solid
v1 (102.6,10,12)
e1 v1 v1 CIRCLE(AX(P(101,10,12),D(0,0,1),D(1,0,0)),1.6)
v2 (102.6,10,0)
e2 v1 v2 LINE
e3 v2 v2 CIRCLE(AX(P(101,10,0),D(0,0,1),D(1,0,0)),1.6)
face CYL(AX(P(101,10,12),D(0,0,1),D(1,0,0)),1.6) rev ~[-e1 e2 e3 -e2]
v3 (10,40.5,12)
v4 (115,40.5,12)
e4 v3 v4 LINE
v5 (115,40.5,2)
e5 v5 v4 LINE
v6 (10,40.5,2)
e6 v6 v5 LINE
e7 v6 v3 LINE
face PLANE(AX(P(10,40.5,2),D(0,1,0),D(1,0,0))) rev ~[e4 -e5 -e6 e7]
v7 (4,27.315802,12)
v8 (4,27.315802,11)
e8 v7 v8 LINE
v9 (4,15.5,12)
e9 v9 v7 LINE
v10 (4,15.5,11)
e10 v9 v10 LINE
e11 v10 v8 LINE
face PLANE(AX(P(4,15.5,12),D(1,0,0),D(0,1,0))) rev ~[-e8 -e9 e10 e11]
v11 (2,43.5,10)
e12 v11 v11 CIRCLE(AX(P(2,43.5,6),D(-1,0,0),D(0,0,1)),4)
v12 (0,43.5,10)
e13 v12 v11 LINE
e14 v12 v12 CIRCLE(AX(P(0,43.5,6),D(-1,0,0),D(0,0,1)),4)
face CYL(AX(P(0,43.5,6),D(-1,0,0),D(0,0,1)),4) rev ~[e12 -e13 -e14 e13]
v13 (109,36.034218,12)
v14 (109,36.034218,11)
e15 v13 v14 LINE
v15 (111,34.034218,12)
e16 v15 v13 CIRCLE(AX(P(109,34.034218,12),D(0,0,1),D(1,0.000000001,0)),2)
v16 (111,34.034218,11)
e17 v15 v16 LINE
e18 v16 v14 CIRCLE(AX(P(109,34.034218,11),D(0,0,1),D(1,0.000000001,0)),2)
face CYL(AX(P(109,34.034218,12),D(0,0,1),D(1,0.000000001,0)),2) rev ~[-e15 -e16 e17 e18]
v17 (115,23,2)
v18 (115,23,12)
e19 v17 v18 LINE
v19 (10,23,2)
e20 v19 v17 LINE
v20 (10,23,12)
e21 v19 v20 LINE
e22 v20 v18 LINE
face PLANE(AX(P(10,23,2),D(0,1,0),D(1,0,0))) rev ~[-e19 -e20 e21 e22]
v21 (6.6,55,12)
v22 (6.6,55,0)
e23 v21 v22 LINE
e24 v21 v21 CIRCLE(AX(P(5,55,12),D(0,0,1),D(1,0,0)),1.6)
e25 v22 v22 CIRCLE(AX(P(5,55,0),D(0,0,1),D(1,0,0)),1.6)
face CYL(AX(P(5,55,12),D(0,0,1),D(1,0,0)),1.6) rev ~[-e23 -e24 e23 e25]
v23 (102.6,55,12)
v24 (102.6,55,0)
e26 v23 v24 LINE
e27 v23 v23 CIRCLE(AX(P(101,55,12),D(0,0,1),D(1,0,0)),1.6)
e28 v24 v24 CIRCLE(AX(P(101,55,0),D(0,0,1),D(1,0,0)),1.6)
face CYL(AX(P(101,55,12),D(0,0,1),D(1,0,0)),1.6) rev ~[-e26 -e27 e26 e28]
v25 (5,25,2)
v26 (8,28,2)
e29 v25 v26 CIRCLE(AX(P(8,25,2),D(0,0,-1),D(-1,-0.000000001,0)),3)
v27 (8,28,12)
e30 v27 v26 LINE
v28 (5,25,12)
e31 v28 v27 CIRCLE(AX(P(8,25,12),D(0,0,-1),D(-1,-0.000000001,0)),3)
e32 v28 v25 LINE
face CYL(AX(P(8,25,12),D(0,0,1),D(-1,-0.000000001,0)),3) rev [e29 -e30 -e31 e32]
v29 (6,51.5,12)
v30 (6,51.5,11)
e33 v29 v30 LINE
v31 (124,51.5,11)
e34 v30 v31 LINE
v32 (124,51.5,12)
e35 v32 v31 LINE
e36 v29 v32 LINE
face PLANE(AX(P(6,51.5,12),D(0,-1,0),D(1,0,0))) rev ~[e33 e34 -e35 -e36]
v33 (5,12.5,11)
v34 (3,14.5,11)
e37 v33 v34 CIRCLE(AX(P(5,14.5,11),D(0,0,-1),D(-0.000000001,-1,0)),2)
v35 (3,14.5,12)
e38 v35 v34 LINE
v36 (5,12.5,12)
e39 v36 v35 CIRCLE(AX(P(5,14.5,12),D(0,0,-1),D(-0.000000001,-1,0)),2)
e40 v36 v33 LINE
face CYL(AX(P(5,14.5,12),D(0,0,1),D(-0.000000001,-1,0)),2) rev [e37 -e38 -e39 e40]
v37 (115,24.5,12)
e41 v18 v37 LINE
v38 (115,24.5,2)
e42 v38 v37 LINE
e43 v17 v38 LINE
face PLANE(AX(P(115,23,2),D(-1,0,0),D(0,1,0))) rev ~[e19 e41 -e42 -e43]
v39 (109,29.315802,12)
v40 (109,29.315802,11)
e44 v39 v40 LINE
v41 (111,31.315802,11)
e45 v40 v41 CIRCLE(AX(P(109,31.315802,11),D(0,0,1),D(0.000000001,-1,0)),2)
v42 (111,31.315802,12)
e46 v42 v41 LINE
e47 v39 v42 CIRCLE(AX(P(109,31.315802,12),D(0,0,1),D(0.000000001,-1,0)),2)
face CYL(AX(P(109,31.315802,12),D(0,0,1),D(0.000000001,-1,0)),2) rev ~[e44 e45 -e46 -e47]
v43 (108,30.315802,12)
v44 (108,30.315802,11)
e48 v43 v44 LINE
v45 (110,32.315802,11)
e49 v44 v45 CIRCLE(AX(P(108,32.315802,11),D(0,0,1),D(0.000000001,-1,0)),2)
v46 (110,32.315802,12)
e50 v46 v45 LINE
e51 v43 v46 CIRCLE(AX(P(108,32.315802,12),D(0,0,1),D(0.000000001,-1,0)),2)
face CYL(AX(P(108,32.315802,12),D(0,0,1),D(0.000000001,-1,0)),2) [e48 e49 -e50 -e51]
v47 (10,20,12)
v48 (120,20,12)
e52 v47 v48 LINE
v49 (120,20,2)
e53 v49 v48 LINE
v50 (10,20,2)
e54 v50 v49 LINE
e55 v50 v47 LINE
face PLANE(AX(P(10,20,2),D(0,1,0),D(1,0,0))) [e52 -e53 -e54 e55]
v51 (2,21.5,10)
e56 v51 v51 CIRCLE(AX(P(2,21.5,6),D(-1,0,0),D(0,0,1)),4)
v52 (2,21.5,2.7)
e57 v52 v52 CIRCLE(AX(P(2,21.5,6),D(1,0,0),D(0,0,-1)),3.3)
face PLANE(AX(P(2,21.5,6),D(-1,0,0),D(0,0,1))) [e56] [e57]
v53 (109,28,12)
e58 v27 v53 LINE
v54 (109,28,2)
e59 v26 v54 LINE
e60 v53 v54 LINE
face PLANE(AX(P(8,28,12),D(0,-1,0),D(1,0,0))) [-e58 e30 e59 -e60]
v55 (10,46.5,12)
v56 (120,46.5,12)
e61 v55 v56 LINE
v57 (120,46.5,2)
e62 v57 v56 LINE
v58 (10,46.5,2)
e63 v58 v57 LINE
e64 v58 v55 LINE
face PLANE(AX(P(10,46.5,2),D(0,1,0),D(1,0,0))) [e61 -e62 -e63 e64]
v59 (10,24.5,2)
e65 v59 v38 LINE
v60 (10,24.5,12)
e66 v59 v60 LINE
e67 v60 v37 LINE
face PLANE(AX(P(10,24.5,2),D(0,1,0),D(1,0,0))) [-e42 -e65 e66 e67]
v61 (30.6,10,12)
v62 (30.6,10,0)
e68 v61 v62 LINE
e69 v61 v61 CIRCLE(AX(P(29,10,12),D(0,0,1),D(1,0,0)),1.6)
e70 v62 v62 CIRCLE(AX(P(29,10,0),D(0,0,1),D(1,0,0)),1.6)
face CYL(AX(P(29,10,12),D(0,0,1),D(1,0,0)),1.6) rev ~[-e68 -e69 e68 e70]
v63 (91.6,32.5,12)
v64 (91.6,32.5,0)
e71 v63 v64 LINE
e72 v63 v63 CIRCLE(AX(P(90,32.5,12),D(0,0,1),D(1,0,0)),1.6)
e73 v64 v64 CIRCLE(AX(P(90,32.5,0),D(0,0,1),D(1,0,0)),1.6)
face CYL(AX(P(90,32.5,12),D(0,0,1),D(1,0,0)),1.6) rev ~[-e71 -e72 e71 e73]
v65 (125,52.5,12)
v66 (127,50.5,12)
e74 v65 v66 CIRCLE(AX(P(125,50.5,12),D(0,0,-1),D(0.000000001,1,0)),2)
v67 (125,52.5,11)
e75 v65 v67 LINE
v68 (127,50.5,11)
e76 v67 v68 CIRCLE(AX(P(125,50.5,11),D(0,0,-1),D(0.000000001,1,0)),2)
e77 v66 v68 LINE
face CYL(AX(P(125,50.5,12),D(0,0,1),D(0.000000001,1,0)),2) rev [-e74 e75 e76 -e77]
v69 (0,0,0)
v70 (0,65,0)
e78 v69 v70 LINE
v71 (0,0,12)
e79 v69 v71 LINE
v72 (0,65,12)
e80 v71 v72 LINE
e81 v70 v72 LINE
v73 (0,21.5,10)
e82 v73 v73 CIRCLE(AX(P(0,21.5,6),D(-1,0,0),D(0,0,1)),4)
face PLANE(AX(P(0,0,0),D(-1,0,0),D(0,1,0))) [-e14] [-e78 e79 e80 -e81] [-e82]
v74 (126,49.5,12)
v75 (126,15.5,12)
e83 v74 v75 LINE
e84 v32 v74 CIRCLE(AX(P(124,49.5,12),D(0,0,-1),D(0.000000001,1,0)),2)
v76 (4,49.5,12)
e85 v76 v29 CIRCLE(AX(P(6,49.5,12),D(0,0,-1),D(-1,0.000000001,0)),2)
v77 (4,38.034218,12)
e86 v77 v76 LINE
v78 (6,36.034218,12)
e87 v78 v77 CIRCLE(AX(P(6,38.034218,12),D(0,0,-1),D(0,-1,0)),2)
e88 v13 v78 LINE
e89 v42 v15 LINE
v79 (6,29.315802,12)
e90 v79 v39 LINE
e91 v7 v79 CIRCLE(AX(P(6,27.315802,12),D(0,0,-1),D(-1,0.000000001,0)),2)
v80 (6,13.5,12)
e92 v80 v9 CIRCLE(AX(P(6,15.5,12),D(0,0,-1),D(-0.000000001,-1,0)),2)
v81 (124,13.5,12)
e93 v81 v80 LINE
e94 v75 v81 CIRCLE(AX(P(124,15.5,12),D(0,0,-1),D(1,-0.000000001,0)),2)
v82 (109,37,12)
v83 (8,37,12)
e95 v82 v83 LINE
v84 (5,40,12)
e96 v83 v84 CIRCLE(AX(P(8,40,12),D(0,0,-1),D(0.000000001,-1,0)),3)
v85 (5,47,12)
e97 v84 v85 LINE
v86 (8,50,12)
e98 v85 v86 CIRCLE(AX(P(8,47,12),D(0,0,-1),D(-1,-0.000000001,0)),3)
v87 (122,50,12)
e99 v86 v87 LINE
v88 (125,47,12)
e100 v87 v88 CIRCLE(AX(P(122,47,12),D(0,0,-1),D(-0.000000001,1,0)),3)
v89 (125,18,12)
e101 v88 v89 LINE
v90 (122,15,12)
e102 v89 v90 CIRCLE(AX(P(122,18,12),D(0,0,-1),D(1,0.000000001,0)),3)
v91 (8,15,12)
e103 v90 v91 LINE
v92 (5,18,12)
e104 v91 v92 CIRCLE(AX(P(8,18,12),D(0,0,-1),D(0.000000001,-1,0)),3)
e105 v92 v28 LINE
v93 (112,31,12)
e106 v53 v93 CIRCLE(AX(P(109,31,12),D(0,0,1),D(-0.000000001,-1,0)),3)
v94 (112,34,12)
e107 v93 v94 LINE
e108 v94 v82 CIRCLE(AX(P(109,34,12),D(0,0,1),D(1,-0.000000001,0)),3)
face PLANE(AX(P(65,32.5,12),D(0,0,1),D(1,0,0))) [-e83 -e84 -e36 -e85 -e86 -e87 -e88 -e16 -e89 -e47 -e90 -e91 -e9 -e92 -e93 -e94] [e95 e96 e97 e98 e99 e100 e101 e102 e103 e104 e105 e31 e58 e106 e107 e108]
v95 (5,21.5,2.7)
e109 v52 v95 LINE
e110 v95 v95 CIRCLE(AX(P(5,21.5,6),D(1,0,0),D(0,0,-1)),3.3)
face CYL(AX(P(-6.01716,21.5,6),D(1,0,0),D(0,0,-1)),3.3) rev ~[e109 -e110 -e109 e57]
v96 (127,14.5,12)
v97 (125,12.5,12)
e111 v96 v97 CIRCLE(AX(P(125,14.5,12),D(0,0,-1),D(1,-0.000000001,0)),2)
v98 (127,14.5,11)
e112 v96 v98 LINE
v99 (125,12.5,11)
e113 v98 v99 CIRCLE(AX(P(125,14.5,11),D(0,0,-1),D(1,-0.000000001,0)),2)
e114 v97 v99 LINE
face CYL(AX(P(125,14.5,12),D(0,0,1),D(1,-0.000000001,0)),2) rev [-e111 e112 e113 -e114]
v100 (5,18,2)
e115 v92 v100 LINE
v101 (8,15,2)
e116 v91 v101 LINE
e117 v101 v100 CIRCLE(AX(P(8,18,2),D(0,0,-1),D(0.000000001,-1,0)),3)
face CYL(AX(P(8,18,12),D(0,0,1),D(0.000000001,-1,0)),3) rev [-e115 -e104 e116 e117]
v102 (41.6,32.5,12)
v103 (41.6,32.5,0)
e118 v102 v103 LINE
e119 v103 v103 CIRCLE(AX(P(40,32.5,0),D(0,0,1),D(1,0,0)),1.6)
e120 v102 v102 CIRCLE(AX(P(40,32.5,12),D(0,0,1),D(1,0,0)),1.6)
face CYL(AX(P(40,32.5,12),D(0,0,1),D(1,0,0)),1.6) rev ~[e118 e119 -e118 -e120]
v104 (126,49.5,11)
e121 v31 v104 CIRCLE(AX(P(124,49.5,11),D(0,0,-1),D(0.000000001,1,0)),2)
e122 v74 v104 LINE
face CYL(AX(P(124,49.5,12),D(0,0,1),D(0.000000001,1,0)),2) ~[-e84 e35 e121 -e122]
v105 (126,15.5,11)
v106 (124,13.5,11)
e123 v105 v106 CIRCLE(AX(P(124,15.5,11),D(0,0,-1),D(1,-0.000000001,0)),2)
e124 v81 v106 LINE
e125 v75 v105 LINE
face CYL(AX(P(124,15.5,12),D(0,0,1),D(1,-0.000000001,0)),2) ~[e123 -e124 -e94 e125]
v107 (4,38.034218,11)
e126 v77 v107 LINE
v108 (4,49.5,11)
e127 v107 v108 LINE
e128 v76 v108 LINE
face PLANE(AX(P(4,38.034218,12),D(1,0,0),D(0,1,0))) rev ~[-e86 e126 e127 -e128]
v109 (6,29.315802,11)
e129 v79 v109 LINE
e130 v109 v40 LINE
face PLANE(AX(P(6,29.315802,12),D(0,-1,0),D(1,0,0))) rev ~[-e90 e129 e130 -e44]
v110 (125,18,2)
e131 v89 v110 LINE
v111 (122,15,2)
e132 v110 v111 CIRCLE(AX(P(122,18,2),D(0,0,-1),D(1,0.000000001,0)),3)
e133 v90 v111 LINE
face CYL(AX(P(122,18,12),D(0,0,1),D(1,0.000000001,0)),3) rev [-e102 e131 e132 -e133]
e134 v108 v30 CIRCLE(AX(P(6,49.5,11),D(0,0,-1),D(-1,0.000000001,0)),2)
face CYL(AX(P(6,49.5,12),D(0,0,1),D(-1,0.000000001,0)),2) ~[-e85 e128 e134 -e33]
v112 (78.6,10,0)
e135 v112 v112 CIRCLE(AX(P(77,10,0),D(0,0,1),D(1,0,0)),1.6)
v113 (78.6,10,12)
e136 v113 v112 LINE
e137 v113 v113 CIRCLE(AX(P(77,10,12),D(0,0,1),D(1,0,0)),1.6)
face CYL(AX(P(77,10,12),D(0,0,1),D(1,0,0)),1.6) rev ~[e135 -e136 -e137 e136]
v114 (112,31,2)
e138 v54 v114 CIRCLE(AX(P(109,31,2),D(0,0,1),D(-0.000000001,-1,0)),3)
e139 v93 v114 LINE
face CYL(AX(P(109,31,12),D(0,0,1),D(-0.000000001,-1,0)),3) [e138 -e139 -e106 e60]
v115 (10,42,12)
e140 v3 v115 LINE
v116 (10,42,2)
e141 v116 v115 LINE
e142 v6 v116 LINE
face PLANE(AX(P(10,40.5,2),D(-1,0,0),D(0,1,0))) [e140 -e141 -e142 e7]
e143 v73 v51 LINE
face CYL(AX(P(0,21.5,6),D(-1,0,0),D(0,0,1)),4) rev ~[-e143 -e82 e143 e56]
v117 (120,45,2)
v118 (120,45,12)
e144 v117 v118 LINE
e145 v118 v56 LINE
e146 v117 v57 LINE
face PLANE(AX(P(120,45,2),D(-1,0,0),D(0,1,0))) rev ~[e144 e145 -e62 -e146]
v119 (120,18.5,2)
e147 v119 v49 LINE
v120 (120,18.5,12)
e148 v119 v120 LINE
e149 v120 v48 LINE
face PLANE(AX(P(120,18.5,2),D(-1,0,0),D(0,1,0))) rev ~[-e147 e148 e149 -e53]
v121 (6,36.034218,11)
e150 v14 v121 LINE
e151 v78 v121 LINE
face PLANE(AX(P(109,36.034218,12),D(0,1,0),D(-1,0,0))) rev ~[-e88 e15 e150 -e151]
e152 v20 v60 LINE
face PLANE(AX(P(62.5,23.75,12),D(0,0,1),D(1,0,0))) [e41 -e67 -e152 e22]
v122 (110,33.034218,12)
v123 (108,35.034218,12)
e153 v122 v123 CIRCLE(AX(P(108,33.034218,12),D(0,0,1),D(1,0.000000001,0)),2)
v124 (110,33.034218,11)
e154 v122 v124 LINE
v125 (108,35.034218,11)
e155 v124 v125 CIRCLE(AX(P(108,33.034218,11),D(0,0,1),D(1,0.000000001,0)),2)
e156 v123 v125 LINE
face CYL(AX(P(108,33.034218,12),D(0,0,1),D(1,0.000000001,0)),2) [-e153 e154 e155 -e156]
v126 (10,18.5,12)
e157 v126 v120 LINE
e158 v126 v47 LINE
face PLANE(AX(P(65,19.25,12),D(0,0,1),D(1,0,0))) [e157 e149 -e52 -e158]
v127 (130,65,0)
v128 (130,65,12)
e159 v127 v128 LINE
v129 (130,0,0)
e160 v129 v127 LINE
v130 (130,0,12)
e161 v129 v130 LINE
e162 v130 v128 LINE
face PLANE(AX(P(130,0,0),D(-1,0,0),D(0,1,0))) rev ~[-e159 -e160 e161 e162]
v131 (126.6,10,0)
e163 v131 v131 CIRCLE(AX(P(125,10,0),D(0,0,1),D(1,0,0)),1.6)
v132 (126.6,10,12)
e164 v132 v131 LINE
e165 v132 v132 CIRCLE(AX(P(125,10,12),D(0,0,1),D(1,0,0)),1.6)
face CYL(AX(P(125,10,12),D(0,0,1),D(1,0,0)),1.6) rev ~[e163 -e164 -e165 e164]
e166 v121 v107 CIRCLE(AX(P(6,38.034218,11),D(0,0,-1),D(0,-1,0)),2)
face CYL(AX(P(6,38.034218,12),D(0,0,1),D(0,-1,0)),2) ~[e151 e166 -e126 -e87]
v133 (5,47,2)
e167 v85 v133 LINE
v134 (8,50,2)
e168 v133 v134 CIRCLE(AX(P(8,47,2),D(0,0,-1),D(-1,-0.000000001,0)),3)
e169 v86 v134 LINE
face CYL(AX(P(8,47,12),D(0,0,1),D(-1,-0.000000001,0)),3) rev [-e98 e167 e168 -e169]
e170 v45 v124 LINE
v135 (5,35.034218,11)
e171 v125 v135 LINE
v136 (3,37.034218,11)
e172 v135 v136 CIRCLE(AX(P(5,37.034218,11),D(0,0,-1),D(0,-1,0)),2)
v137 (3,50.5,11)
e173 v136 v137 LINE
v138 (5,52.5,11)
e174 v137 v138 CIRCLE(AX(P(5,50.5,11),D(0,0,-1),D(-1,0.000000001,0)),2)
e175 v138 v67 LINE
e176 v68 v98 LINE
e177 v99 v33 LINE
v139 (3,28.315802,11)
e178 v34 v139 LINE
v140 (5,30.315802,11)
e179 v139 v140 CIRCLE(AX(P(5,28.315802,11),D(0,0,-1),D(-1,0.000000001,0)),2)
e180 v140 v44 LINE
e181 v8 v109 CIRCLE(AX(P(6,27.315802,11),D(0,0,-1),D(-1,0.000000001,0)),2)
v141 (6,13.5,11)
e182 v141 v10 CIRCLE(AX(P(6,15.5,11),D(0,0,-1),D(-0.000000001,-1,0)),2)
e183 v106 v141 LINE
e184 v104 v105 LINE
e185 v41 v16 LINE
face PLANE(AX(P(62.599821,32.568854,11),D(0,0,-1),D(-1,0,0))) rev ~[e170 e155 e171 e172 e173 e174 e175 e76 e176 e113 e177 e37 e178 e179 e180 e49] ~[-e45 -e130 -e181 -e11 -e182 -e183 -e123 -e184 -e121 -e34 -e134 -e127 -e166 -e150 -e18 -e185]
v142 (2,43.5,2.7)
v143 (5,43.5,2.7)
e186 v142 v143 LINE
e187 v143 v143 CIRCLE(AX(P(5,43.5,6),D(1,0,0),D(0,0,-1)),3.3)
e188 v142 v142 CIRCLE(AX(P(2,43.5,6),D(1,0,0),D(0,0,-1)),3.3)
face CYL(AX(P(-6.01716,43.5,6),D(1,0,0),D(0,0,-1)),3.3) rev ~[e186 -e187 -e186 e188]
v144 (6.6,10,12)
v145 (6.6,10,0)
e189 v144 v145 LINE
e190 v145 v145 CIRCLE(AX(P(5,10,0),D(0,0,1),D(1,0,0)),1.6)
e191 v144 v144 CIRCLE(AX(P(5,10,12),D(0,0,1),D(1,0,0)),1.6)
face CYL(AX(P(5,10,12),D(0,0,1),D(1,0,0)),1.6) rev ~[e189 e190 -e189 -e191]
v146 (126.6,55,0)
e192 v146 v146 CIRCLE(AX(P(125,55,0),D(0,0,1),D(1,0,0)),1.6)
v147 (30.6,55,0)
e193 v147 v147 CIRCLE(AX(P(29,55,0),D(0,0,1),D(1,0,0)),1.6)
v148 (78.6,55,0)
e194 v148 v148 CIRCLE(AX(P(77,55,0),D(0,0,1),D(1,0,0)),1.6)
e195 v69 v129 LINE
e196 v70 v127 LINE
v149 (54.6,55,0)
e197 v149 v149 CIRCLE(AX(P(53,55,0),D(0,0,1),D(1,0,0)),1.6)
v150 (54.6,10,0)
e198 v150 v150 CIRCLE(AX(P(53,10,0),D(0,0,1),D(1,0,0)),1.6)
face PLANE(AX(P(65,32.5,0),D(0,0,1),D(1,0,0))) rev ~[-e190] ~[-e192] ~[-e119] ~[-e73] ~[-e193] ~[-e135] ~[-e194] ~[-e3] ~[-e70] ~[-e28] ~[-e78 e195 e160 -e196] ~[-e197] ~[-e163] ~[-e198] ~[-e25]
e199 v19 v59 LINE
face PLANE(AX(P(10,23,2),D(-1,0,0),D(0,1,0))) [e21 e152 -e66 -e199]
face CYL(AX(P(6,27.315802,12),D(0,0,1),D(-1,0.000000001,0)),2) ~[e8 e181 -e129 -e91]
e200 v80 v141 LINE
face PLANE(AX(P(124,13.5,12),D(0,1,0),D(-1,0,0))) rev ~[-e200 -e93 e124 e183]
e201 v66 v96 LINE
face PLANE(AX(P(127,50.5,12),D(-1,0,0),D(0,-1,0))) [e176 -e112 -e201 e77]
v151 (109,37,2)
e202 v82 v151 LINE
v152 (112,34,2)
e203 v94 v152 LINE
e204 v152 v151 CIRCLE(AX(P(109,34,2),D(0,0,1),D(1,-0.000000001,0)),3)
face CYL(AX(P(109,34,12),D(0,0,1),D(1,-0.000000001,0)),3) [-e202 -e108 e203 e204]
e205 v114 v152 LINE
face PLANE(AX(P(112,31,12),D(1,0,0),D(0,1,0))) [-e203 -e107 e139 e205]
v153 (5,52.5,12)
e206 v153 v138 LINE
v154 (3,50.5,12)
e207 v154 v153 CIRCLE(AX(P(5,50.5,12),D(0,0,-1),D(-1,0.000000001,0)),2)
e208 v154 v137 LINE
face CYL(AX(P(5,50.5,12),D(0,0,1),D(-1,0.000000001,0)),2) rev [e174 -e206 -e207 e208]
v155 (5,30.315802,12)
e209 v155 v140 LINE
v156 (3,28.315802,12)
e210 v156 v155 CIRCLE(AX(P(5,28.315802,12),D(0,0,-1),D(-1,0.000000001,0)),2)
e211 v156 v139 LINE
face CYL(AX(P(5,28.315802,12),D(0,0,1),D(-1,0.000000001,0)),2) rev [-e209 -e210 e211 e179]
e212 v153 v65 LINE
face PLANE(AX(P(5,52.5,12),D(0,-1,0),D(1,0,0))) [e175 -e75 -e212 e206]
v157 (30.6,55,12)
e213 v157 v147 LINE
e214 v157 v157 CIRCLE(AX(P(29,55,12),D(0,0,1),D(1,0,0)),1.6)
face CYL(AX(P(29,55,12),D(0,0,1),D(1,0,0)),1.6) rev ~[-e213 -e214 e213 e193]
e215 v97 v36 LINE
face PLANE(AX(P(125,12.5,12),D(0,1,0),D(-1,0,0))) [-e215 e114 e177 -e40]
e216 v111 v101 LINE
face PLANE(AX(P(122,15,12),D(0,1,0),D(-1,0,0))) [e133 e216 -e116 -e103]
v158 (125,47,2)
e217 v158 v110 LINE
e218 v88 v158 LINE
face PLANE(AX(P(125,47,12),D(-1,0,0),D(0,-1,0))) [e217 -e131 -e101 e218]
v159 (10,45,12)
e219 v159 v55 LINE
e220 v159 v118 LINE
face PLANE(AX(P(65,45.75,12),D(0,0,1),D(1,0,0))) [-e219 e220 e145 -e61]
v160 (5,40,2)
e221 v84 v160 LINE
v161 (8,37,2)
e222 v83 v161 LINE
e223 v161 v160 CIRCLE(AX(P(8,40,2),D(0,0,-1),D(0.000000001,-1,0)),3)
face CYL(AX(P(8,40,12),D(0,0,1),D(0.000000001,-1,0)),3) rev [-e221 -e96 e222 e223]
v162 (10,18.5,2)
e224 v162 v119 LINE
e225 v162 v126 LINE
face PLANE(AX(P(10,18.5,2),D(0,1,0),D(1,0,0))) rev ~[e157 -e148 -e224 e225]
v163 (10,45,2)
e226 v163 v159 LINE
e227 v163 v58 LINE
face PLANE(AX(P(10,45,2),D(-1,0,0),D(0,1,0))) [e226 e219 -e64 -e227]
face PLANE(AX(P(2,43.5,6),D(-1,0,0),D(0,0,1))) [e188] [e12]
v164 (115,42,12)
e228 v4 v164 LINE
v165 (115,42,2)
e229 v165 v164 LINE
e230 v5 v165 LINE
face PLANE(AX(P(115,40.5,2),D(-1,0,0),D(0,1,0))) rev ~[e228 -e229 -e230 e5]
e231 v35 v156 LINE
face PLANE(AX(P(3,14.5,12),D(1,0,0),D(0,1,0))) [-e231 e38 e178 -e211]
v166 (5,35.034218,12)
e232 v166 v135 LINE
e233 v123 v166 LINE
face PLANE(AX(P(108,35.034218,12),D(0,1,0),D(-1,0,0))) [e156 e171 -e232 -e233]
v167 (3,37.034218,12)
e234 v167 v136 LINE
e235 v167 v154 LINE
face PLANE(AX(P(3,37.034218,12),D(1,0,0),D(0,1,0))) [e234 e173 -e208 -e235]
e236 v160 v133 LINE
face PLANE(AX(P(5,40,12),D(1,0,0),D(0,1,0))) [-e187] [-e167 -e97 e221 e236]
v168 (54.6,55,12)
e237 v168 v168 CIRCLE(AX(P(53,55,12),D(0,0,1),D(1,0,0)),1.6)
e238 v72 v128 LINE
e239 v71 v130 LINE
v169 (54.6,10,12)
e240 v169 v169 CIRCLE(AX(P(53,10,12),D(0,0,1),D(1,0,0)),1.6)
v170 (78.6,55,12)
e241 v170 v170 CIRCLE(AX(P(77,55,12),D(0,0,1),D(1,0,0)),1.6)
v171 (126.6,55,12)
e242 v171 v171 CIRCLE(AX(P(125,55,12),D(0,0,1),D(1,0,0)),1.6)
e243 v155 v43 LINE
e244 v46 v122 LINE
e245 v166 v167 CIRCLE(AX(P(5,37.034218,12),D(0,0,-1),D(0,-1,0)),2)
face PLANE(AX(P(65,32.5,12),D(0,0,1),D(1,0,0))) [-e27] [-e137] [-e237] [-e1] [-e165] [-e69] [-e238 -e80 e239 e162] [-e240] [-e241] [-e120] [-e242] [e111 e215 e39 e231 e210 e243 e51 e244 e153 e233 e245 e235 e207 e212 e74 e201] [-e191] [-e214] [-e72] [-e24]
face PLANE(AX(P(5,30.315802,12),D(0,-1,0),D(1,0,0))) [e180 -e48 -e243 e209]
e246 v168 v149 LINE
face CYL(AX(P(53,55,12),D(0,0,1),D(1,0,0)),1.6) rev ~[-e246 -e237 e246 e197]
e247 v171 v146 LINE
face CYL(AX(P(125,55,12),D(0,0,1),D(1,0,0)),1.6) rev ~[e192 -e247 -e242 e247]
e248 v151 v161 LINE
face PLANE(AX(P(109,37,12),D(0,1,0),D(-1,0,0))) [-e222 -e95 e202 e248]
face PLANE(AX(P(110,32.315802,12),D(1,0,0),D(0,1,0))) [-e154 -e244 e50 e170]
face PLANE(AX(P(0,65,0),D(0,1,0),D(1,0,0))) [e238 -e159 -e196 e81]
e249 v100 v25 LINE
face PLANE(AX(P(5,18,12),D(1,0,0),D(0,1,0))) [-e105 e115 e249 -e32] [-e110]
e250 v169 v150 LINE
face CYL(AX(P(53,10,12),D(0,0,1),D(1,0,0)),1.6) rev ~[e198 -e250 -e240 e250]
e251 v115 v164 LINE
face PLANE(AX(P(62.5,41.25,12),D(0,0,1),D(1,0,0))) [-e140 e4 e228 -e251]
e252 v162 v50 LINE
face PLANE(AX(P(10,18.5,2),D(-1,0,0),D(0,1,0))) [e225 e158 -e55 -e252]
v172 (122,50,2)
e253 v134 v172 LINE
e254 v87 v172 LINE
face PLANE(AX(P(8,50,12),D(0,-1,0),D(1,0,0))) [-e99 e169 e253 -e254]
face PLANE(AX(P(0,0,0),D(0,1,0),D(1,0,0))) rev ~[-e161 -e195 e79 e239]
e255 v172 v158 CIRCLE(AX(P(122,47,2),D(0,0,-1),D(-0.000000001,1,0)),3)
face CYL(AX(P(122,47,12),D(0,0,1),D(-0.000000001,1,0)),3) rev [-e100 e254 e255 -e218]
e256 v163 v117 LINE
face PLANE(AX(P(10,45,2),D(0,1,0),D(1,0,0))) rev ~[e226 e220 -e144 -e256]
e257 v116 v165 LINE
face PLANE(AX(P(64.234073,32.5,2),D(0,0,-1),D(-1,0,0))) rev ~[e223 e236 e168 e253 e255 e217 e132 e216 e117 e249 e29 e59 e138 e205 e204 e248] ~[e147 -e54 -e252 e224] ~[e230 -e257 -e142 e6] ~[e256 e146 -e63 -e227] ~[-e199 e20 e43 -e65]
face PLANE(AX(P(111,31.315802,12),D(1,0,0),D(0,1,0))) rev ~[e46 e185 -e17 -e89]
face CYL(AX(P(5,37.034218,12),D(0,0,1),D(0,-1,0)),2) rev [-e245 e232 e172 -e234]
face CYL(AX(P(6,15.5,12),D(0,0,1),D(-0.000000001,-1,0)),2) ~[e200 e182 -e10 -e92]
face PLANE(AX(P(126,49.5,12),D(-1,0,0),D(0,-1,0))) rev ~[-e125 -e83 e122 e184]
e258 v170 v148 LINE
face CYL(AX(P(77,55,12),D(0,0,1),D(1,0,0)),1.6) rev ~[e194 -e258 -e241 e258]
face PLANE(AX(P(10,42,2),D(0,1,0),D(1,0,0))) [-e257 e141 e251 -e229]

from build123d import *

# Parameters (mm, degrees)
ESQUISSE1_W             = 130
ESQUISSE1_H             = 65
BOSS_EXTRU_1_DEPTH      = 12
ESQUISSE2_R             = 1.6
ENL_V_MAT_EXTRU_1_DEPTH = 13
ENL_V_MAT_EXTRU_6_DEPTH = 10
D_GAGEMENT_M61_D        = 6.6
D_GAGEMENT_M61_DEPTH    = 6.017159957
D_GAGEMENT_M61_TIP      = 1.982840043
ESQUISSE10_R            = 4
ENL_V_MAT_EXTRU_7_DEPTH = 2
ENL_V_MAT_EXTRU_9_DEPTH = 1
ESQUISSE12_W            = 105
ESQUISSE12_H            = 1.5
ESQUISSE12_W_2          = 110
BOSS_EXTRU_2_DEPTH      = 10


with BuildPart() as part:
    # Esquisse1 → Boss.-Extru.1 (new body)
    with BuildSketch(Plane.XY):
        with Locations((65, 32.5)):
            Rectangle(ESQUISSE1_W, ESQUISSE1_H)
    extrude(amount=BOSS_EXTRU_1_DEPTH)

    # Esquisse2 → Enlèv. mat.-Extru.1 (cut, through all)
    with BuildSketch(Plane.XY.offset(12)):
        with Locations((5, 55)):
            Circle(ESQUISSE2_R)
        with Locations((29, 55)):
            Circle(ESQUISSE2_R)
        with Locations((53, 55)):
            Circle(ESQUISSE2_R)
        with Locations((77, 55)):
            Circle(ESQUISSE2_R)
        with Locations((101, 55)):
            Circle(ESQUISSE2_R)
        with Locations((125, 55)):
            Circle(ESQUISSE2_R)
        with Locations((5, 10)):
            Circle(ESQUISSE2_R)
        with Locations((29, 10)):
            Circle(ESQUISSE2_R)
        with Locations((53, 10)):
            Circle(ESQUISSE2_R)
        with Locations((77, 10)):
            Circle(ESQUISSE2_R)
        with Locations((101, 10)):
            Circle(ESQUISSE2_R)
        with Locations((125, 10)):
            Circle(ESQUISSE2_R)
        with Locations((90, 32.5)):
            Circle(ESQUISSE2_R)
        with Locations((40, 32.5)):
            Circle(ESQUISSE2_R)
    extrude(amount=-ENL_V_MAT_EXTRU_1_DEPTH, mode=Mode.SUBTRACT)

    # Esquisse6 → Enlèv. mat.-Extru.6 (cut)
    with BuildSketch(Plane.XY.offset(12)):
        with BuildLine():
            Line((8, 50), (122, 50))
            ThreePointArc((122, 50), (124.121320344, 49.121320344), (125, 47))
            Line((125, 47), (125, 18))
            ThreePointArc((125, 18), (124.121320344, 15.878679656), (122, 15))
            Line((122, 15), (8, 15))
            ThreePointArc((8, 15), (5.878679656, 15.878679656), (5, 18))
            Line((5, 18), (5, 25))
            ThreePointArc((5, 25), (5.878679656, 27.121320344), (8, 28))
            Line((8, 28), (109, 28))
            ThreePointArc((109, 28), (111.121320344, 28.878679656), (112, 31))
            Line((112, 31), (112, 34))
            ThreePointArc((112, 34), (111.121320344, 36.121320344), (109, 37))
            Line((109, 37), (8, 37))
            ThreePointArc((8, 37), (5.878679656, 37.878679656), (5, 40))
            Line((5, 40), (5, 47))
            ThreePointArc((5, 47), (5.878679656, 49.121320344), (8, 50))
        make_face()
    extrude(amount=-ENL_V_MAT_EXTRU_6_DEPTH, mode=Mode.SUBTRACT)

    # Dégagement M61
    with Locations(Plane.ZY):
        with Locations((6, 43.5), (6, 21.5)):
            Hole(D_GAGEMENT_M61_D / 2, depth=D_GAGEMENT_M61_DEPTH)
            with Locations((0, 0, -(D_GAGEMENT_M61_DEPTH + D_GAGEMENT_M61_TIP / 2))):  # 118° drill point
                Cone(0, D_GAGEMENT_M61_D / 2, D_GAGEMENT_M61_TIP, mode=Mode.SUBTRACT)

    # Esquisse10 → Enlèv. mat.-Extru.7 (cut)
    with BuildSketch(Plane.ZY):
        with Locations((6, 21.5)):
            Circle(ESQUISSE10_R)
        with Locations((6, 43.5)):
            Circle(ESQUISSE10_R)
    extrude(amount=-ENL_V_MAT_EXTRU_7_DEPTH, mode=Mode.SUBTRACT)

    # Esquisse11 → Enlèv. mat.-Extru.9 (cut)
    with BuildSketch(Plane.XY.offset(12)):
        with BuildLine():
            Line((125, 12.5), (5, 12.5))
            ThreePointArc((5, 12.5), (3.585786438, 13.085786438), (3, 14.5))
            Line((3, 14.5), (3, 28.315802411))
            ThreePointArc((3, 28.315802411), (3.585786438, 29.730015973), (5, 30.315802411))
            Line((5, 30.315802411), (108, 30.315802411))
            ThreePointArc((108, 30.315802411), (109.414213562, 30.901588849), (110, 32.315802411))
            Line((110, 32.315802411), (110, 33.034217912))
            ThreePointArc((110, 33.034217912), (109.414213562, 34.448431474), (108, 35.034217912))
            Line((108, 35.034217912), (5, 35.034217912))
            ThreePointArc((5, 35.034217912), (3.585786438, 35.620004349), (3, 37.034217912))
            Line((3, 37.034217912), (3, 50.5))
            ThreePointArc((3, 50.5), (3.585786438, 51.914213562), (5, 52.5))
            Line((5, 52.5), (125, 52.5))
            ThreePointArc((125, 52.5), (126.414213562, 51.914213562), (127, 50.5))
            Line((127, 50.5), (127, 14.5))
            ThreePointArc((127, 14.5), (126.414213562, 13.085786438), (125, 12.5))
        make_face()
        with BuildLine():
            Line((6, 51.5), (124, 51.5))
            ThreePointArc((124, 51.5), (125.414213562, 50.914213562), (126, 49.5))
            Line((126, 49.5), (126, 15.5))
            ThreePointArc((126, 15.5), (125.414213562, 14.085786438), (124, 13.5))
            Line((124, 13.5), (6, 13.5))
            ThreePointArc((6, 13.5), (4.585786438, 14.085786438), (4, 15.5))
            Line((4, 15.5), (4, 27.315802411))
            ThreePointArc((4, 27.315802411), (4.585786438, 28.730015973), (6, 29.315802411))
            Line((6, 29.315802411), (109, 29.315802411))
            ThreePointArc((109, 29.315802411), (110.414213562, 29.901588849), (111, 31.315802411))
            Line((111, 31.315802411), (111, 34.034217912))
            ThreePointArc((111, 34.034217912), (110.414213562, 35.448431474), (109, 36.034217912))
            Line((109, 36.034217912), (6, 36.034217912))
            ThreePointArc((6, 36.034217912), (4.585786438, 36.620004349), (4, 38.034217912))
            Line((4, 38.034217912), (4, 49.5))
            ThreePointArc((4, 49.5), (4.585786438, 50.914213562), (6, 51.5))
        make_face(mode=Mode.SUBTRACT)
    extrude(amount=-ENL_V_MAT_EXTRU_9_DEPTH, mode=Mode.SUBTRACT)

    # Esquisse12 → Boss.-Extru.2 (add)
    with BuildSketch(Plane.XY.offset(2)):
        with Locations((62.5, 41.25)):
            Rectangle(ESQUISSE12_W, ESQUISSE12_H)
        with Locations((65, 45.75)):
            Rectangle(ESQUISSE12_W_2, ESQUISSE12_H)
        with Locations((65, 19.25)):
            Rectangle(ESQUISSE12_W_2, ESQUISSE12_H)
        with Locations((62.5, 23.75)):
            Rectangle(ESQUISSE12_W, ESQUISSE12_H)
    extrude(amount=BOSS_EXTRU_2_DEPTH)


solid = part.part
